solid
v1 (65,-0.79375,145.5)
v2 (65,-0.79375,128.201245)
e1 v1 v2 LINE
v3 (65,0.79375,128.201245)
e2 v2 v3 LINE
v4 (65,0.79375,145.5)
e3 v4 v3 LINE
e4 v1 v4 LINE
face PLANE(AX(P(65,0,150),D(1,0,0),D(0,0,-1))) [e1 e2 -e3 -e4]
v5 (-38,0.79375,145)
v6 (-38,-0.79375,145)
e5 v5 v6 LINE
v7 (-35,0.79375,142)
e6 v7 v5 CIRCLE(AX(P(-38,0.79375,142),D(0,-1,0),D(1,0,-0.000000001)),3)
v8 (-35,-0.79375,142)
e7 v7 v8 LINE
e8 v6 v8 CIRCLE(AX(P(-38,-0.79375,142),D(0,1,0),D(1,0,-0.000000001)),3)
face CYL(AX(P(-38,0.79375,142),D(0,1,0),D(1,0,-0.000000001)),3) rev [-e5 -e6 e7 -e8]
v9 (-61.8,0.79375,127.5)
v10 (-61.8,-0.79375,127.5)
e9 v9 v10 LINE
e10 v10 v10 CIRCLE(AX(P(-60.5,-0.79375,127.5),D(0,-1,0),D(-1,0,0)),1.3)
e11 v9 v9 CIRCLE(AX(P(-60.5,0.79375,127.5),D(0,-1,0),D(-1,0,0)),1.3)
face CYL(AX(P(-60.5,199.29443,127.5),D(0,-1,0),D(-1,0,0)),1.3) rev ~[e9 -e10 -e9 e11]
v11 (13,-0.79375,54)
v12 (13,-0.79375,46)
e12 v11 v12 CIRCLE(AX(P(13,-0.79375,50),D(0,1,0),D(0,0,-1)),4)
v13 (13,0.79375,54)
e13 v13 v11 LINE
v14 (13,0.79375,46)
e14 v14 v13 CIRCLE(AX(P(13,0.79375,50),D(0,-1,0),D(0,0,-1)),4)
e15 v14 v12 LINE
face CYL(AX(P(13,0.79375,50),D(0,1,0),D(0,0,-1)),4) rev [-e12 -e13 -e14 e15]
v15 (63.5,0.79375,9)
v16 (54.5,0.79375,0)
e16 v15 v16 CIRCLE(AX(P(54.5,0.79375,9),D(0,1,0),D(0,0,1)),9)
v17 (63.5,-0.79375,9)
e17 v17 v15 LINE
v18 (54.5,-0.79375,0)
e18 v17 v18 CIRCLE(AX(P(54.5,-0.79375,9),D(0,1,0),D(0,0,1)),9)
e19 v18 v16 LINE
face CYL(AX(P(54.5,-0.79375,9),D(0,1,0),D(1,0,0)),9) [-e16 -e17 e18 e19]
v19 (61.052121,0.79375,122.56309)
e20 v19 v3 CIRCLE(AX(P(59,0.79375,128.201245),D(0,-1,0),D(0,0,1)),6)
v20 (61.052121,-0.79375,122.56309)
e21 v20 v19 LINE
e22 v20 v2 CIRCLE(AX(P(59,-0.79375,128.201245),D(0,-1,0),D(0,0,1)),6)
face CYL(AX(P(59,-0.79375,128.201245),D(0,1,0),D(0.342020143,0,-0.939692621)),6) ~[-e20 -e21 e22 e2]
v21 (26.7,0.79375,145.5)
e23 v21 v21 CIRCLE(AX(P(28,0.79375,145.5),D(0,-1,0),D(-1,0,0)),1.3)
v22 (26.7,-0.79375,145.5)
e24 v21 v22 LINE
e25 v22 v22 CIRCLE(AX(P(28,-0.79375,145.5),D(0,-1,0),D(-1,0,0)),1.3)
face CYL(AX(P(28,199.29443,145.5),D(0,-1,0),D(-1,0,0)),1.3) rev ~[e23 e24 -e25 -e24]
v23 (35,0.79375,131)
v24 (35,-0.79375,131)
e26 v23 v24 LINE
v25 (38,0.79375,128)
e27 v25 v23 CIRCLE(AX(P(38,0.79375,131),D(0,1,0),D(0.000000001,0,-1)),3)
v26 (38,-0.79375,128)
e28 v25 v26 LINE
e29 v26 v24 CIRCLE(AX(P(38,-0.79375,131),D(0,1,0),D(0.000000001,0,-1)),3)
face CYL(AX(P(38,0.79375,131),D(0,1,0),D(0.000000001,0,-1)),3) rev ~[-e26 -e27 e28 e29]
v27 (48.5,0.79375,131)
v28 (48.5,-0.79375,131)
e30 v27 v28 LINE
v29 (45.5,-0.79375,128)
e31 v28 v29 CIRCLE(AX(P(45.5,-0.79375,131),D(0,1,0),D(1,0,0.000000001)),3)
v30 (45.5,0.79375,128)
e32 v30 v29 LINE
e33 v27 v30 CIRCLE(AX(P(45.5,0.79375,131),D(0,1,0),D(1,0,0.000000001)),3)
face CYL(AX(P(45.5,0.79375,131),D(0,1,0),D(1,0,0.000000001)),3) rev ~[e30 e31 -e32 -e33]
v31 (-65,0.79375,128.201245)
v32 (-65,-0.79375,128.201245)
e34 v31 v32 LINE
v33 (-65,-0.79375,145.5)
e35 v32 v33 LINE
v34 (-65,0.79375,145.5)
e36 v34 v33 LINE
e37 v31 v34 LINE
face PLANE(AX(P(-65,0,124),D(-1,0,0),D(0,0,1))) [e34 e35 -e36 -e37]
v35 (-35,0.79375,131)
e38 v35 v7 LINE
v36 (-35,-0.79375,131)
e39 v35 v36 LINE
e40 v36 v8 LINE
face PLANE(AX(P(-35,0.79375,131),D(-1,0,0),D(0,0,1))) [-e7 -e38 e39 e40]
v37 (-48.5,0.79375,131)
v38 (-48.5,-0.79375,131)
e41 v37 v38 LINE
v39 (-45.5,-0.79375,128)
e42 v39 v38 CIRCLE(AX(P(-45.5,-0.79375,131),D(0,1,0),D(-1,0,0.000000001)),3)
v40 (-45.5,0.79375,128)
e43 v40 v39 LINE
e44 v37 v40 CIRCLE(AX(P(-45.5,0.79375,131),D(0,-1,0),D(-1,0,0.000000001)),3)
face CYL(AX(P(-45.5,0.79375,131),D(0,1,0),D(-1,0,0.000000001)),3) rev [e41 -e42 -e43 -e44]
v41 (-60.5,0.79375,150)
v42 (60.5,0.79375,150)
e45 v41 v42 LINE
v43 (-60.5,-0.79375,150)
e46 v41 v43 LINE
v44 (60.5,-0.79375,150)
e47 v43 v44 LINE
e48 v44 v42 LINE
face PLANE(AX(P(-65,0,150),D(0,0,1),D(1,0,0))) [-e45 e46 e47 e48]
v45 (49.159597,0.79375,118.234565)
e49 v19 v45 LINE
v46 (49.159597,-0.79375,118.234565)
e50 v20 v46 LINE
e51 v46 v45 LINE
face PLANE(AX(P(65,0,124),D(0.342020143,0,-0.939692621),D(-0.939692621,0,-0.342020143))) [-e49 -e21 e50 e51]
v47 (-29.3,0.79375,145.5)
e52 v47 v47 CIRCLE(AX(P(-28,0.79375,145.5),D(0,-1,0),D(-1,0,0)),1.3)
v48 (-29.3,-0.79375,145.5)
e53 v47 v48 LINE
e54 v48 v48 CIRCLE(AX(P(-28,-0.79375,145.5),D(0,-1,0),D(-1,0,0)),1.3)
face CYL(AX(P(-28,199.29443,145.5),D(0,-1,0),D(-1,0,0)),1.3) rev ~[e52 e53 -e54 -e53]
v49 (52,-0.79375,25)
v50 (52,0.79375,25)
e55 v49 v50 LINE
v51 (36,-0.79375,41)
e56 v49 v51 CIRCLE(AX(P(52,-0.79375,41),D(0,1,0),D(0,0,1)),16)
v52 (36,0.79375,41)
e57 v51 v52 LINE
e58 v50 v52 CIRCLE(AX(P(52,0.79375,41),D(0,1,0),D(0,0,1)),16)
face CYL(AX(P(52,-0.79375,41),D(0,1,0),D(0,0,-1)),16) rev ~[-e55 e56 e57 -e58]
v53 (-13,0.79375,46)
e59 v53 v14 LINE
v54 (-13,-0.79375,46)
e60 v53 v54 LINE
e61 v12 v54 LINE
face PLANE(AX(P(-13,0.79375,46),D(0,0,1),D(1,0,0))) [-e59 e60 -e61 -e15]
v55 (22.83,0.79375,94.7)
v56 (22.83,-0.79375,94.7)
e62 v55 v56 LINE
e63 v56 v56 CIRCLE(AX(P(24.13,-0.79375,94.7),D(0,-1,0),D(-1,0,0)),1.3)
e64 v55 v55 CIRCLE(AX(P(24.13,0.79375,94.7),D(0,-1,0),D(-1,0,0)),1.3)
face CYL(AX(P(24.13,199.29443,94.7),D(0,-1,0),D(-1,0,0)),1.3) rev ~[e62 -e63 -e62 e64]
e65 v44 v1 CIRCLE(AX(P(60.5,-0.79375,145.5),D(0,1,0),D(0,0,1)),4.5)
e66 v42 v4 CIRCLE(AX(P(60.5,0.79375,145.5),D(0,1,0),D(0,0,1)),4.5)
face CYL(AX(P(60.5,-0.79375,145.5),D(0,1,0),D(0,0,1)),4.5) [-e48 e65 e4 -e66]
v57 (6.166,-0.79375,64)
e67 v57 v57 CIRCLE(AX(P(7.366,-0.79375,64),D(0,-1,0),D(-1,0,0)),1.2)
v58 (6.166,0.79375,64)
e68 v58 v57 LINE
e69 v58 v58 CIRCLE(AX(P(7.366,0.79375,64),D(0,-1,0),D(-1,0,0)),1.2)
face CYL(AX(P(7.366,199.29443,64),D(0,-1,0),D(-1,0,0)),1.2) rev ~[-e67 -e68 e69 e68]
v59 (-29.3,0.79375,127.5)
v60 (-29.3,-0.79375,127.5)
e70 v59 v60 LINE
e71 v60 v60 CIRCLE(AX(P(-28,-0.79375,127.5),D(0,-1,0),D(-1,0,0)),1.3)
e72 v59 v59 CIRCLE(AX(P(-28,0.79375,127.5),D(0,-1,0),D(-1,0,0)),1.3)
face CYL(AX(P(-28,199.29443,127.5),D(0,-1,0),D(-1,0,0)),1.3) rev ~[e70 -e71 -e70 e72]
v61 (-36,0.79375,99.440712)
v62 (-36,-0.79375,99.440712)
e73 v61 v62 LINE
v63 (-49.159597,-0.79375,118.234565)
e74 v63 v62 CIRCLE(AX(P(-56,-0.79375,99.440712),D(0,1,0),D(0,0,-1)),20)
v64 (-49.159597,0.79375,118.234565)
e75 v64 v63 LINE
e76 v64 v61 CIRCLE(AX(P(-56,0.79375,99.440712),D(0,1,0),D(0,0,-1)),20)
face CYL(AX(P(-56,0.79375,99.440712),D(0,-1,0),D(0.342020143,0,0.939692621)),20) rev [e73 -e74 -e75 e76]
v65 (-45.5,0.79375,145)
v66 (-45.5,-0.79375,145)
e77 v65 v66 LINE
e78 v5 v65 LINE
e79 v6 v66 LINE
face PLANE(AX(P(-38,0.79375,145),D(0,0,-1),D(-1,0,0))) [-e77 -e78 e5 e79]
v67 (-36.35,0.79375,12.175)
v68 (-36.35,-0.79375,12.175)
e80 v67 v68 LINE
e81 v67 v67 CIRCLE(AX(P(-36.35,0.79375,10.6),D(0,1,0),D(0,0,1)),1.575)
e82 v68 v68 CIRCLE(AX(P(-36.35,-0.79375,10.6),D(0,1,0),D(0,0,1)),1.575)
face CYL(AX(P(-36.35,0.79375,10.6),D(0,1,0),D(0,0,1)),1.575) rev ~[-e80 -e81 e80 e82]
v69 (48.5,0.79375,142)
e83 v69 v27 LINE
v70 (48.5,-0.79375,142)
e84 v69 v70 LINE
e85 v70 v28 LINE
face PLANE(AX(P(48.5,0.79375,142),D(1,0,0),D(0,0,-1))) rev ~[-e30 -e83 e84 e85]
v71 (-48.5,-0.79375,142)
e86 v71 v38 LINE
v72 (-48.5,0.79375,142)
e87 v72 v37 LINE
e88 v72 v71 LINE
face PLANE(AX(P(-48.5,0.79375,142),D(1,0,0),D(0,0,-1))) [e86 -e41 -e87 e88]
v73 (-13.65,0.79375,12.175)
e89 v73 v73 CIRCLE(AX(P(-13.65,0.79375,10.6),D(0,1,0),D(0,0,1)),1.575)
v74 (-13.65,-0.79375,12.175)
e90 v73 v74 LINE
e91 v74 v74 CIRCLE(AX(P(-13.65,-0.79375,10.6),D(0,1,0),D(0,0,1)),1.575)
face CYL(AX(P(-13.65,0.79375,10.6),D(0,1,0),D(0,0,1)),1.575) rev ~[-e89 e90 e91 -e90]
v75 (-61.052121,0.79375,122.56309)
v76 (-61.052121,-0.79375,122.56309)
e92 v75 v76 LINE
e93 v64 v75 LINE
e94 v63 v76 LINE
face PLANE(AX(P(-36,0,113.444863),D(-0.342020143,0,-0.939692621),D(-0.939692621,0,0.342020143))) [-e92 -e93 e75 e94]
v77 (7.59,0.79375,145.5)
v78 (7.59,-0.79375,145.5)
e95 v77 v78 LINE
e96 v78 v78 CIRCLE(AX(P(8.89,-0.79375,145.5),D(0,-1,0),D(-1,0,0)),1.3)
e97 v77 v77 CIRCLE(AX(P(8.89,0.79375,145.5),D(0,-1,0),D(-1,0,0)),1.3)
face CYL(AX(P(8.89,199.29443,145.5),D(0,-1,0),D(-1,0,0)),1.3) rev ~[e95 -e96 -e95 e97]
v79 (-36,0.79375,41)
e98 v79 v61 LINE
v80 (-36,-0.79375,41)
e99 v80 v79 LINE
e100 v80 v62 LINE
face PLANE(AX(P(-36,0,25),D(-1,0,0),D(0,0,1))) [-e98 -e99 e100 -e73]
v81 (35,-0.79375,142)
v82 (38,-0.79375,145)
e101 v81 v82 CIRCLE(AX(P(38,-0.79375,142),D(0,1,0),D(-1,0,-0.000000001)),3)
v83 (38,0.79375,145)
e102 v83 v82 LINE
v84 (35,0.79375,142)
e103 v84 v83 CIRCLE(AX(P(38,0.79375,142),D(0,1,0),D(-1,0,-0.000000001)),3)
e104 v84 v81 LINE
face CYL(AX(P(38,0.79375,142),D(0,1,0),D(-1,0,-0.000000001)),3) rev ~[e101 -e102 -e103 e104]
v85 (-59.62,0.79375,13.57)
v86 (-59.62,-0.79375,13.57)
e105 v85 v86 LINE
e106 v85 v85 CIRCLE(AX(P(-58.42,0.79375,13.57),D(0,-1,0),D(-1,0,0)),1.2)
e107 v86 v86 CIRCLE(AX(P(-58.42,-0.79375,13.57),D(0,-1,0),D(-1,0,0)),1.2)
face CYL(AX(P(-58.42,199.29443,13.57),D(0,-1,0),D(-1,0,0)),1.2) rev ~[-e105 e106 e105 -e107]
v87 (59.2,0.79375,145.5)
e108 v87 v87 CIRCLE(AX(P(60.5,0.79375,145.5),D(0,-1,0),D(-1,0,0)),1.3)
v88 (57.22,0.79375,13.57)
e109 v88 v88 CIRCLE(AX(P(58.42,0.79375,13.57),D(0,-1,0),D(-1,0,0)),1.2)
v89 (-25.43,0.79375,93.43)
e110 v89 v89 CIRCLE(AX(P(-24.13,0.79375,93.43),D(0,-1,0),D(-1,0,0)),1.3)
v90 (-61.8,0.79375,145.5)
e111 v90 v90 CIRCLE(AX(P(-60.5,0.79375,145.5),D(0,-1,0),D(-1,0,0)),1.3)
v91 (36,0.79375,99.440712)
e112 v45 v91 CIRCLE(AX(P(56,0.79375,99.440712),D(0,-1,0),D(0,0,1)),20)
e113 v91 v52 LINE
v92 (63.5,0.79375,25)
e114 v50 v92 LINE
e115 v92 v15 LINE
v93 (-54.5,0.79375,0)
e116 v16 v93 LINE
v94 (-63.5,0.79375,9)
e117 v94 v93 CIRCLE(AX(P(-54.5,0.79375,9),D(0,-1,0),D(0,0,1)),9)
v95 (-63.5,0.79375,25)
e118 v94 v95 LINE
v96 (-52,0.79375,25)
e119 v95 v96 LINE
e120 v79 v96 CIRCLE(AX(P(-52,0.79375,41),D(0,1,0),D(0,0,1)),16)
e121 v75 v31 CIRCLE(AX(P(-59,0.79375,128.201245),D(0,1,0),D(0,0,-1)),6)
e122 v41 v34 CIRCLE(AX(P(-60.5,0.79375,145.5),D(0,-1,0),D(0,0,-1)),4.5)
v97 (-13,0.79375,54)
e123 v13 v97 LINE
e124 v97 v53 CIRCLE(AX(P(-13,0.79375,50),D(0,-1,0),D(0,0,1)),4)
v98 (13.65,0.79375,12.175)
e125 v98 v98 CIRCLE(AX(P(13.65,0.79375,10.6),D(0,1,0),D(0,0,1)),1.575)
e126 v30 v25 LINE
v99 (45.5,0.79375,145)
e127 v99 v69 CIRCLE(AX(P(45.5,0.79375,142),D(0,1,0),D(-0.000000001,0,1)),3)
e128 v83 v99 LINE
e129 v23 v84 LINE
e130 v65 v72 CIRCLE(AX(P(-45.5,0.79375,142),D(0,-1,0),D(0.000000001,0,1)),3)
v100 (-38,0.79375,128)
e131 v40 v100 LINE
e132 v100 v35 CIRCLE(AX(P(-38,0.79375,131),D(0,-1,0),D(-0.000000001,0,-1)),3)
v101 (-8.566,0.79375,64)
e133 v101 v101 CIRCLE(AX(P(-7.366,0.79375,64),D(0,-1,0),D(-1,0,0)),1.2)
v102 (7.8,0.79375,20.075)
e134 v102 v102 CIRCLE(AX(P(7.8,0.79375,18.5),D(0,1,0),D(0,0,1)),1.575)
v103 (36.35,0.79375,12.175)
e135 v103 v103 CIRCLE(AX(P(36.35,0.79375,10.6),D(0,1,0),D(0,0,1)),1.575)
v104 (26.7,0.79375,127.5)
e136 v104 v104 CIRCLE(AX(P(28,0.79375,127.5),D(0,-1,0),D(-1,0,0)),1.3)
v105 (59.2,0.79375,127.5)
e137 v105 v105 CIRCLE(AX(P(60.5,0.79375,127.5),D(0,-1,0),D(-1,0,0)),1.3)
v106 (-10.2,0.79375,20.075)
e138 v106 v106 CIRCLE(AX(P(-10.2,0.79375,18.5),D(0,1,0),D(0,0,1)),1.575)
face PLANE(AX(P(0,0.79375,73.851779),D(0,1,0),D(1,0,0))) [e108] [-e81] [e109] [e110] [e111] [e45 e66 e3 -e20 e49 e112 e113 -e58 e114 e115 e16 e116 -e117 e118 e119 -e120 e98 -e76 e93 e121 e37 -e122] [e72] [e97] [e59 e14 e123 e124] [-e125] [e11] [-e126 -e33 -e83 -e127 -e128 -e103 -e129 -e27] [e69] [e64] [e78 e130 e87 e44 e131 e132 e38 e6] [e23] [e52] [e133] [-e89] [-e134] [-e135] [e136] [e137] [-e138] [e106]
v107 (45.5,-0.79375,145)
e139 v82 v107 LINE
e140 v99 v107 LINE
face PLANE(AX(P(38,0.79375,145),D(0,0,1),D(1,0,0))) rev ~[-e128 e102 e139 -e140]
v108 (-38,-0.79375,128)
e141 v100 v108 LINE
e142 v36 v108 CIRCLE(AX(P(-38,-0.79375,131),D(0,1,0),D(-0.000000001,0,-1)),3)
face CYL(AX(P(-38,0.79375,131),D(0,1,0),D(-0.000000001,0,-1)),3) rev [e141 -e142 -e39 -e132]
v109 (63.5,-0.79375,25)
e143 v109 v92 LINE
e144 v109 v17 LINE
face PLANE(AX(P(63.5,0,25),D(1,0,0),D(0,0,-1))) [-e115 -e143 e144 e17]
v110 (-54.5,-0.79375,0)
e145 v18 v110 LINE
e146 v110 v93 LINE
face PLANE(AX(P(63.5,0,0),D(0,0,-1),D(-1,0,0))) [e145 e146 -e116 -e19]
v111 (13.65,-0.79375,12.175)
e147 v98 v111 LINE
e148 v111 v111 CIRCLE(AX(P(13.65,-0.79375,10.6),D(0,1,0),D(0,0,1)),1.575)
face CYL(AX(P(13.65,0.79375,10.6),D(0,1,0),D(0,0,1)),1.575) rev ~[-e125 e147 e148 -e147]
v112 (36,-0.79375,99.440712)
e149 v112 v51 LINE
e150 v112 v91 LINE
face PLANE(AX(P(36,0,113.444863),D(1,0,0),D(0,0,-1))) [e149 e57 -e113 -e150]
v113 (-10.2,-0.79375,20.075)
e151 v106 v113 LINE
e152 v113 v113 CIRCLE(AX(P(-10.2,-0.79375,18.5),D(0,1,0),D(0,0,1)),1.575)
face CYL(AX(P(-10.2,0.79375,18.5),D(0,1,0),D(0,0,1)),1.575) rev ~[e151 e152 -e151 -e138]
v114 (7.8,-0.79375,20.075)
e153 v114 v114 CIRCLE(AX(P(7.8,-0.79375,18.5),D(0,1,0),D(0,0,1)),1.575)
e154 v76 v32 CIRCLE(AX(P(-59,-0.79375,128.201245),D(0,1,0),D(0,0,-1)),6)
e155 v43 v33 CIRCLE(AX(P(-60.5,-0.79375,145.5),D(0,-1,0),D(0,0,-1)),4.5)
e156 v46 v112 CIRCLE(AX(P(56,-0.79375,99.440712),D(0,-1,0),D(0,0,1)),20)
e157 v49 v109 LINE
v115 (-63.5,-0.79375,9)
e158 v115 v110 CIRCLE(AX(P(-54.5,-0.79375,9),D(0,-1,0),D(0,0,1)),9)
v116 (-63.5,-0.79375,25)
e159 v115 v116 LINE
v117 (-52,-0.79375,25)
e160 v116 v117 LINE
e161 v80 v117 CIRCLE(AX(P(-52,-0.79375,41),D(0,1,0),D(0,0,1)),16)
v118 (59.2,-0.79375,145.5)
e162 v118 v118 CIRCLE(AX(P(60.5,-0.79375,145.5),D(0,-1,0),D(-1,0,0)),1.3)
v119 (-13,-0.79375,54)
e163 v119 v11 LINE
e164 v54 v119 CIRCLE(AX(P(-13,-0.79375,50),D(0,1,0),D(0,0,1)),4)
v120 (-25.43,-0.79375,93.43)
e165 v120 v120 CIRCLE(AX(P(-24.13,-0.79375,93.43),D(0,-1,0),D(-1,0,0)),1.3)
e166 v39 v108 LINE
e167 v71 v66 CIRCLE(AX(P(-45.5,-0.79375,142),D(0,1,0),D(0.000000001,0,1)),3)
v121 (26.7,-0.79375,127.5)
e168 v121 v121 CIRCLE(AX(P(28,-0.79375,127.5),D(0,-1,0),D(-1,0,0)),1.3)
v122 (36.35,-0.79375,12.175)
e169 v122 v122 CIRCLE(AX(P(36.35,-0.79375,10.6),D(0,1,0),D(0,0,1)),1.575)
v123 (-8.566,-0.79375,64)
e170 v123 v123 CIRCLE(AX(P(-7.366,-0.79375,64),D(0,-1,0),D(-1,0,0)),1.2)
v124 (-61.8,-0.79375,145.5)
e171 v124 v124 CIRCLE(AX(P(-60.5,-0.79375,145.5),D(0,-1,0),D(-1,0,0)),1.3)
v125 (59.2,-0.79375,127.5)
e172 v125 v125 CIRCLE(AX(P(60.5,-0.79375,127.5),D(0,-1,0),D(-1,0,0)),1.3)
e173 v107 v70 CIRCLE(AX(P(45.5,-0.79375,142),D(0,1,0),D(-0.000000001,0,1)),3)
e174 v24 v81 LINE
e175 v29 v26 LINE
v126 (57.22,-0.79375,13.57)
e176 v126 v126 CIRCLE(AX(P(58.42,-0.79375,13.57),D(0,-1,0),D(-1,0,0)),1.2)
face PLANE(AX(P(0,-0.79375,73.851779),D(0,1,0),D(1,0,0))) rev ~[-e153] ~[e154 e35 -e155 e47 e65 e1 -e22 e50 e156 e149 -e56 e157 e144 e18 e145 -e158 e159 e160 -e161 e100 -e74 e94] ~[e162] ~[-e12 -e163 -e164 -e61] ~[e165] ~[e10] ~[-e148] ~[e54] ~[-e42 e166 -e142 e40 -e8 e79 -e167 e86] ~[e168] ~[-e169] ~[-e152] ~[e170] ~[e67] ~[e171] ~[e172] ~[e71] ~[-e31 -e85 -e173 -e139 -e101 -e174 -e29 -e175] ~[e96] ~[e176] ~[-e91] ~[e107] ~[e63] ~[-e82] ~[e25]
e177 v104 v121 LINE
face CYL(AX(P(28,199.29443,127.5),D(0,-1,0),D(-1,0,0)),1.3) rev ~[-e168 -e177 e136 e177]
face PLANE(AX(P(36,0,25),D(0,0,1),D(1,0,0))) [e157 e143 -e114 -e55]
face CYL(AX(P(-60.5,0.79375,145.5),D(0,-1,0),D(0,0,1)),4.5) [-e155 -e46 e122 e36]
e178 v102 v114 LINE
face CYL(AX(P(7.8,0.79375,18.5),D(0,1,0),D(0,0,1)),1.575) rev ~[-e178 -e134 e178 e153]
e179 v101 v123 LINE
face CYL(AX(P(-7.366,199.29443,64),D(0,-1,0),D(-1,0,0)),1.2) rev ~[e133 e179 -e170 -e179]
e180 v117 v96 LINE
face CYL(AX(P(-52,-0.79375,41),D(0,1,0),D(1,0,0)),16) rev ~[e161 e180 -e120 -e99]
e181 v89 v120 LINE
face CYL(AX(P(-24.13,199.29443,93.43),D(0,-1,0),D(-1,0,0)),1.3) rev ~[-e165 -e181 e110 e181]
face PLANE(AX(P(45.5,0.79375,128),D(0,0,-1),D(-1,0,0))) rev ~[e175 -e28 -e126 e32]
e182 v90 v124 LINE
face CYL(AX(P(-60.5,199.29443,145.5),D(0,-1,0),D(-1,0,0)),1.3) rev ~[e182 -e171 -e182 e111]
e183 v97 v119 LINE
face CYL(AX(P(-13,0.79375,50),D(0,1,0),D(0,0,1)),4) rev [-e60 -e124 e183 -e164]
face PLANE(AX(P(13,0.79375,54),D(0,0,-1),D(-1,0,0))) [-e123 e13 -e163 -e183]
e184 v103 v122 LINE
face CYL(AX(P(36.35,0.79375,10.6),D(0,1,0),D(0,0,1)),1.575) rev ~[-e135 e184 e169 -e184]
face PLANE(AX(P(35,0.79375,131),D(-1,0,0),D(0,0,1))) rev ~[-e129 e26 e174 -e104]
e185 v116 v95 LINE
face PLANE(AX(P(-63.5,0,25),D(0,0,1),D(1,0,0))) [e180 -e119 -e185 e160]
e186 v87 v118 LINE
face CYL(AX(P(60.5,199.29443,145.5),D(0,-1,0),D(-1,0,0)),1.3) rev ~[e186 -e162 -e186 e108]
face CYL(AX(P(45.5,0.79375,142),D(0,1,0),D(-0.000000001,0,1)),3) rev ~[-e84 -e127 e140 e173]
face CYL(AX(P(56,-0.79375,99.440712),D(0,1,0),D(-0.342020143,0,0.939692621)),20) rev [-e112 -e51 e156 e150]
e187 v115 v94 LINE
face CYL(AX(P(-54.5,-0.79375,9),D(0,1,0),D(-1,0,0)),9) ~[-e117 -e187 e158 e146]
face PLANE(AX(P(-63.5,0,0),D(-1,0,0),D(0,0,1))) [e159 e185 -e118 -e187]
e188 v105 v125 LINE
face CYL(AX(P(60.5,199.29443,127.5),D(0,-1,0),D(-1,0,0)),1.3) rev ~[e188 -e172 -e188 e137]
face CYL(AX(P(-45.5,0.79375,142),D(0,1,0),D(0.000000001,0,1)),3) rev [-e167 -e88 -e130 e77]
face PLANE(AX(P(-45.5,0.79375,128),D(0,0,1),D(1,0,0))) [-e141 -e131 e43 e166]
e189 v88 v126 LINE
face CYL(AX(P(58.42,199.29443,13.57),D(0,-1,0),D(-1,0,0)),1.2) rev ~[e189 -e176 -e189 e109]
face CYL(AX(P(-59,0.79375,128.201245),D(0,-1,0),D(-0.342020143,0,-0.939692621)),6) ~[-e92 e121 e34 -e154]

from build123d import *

# Parameters (mm, degrees)
BOSS_EXTRUDE1_DEPTH  = 0.79375
M2_CLEARANCE_HOLE1_D = 2.6
FILLET1_R            = 4.5
M2_CLEARANCE_HOLE3_D = 2.6
FILLET2_R            = 9
M2_CLEARANCE_HOLE2_D = 2.4
FILLET3_R            = 6
FILLET4_R            = 20
FILLET5_R            = 16
CUT_EXTRUDE2_REACH   = 165.486
CUT_EXTRUDE4_DEPTH   = 164.485535006
M2_CLEARANCE_HOLE4_D = 2.4
SKETCH17_R           = 1.575
CUT_EXTRUDE6_DEPTH   = 164.485535006


with BuildPart() as part:
    # Sketch1 → Boss-Extrude1 (new, symmetric)
    with BuildSketch(Plane(origin=(0, 0, 0), x_dir=(1, 0, 0), z_dir=(0, 1, 0))):
        Polygon((-65, -150), (65, -150), (65, -124), (36, -113.444863206), (36, -25), (63.5, -25), (63.5, 0), (-63.5, 0), (-63.5, -25), (-36, -25), (-36, -113.444863206), (-65, -124), align=None)
    extrude(amount=BOSS_EXTRUDE1_DEPTH, both=True)

    # M2 Clearance Hole1 (through all)
    with Locations(Plane(origin=(0, 0.79375, 0), x_dir=(1, 0, 0), z_dir=(0, 1, 0))):
        with Locations((-60.5, -145.5), (60.5, -145.5), (-60.5, -127.5), (60.5, -127.5), (-28, -127.5), (-28, -145.5), (28, -127.5), (28, -145.5)):
            Hole(M2_CLEARANCE_HOLE1_D / 2)

    # Fillet1
    fillet1_edges = [part.edges().sort_by_distance(p)[0] for p in [
        (65, 0, 150),
        (-65, 0, 150),
    ]]
    fillet(fillet1_edges, radius=FILLET1_R)

    # M2 Clearance Hole3 (through all)
    with Locations(Plane(origin=(0, 0.79375, 0), x_dir=(1, 0, 0), z_dir=(0, 1, 0))):
        with Locations((24.13, -94.7), (8.89, -145.5), (-24.13, -93.43)):
            Hole(M2_CLEARANCE_HOLE3_D / 2)

    # Fillet2
    fillet2_edges = [part.edges().sort_by_distance(p)[0] for p in [
        (-63.5, 0, 0),
        (63.5, 0, 0),
    ]]
    fillet(fillet2_edges, radius=FILLET2_R)

    # M2 Clearance Hole2 (through all)
    with Locations(Plane(origin=(0, 0.79375, 0), x_dir=(1, 0, 0), z_dir=(0, 1, 0))):
        with Locations((-58.42, -13.57), (58.42, -13.57)):
            Hole(M2_CLEARANCE_HOLE2_D / 2)

    # Fillet3
    fillet3_edges = [part.edges().sort_by_distance(p)[0] for p in [
        (-65, 0, 124),
        (65, 0, 124),
    ]]
    fillet(fillet3_edges, radius=FILLET3_R)

    # Fillet4
    fillet4_edges = [part.edges().sort_by_distance(p)[0] for p in [
        (-36, 0, 113.444863206),
        (36, 0, 113.444863206),
    ]]
    fillet(fillet4_edges, radius=FILLET4_R)

    # Fillet5
    fillet5_edges = [part.edges().sort_by_distance(p)[0] for p in [
        (-36, 0, 25),
        (36, 0, 25),
    ]]
    fillet(fillet5_edges, radius=FILLET5_R)

    # Sketch9 → Cut-Extrude2 (cut, up to next)
    with BuildSketch(Plane(origin=(0, 0.79375, 0), x_dir=(1, 0, 0), z_dir=(0, 1, 0)), mode=Mode.PRIVATE) as cut_extrude2_sk1:
        with BuildLine():
            Line((-13, -46), (13, -46))
            ThreePointArc((13, -46), (17, -50), (13, -54))
            Line((13, -54), (-13, -54))
            ThreePointArc((-13, -54), (-17, -50), (-13, -46))
        make_face()
    cut_extrude2_tool1 = extrude(cut_extrude2_sk1.sketch, amount=-CUT_EXTRUDE2_REACH, mode=Mode.PRIVATE) & part.part
    add(cut_extrude2_tool1.solids().sort_by_distance((0, 0.79375, 50))[0], mode=Mode.SUBTRACT)

    # Sketch13 → Cut-Extrude4 (cut, through all)
    with BuildSketch(Plane(origin=(0, 0.79375, 0), x_dir=(1, 0, 0), z_dir=(0, 1, 0))):
        with BuildLine():
            Line((-35, -131), (-35, -142))
            ThreePointArc((-35, -142), (-35.878679656, -144.121320344), (-38, -145))
            Line((-38, -145), (-45.5, -145))
            ThreePointArc((-45.5, -145), (-47.621320344, -144.121320344), (-48.5, -142))
            Line((-48.5, -142), (-48.5, -131))
            ThreePointArc((-48.5, -131), (-47.621320344, -128.878679656), (-45.5, -128))
            Line((-45.5, -128), (-38, -128))
            ThreePointArc((-38, -128), (-35.878679656, -128.878679656), (-35, -131))
        make_face()
        with BuildLine():
            Line((35, -131), (35, -142))
            ThreePointArc((35, -142), (35.878679656, -144.121320344), (38, -145))
            Line((38, -145), (45.5, -145))
            ThreePointArc((45.5, -145), (47.621320344, -144.121320344), (48.5, -142))
            Line((48.5, -142), (48.5, -131))
            ThreePointArc((48.5, -131), (47.621320344, -128.878679656), (45.5, -128))
            Line((45.5, -128), (38, -128))
            ThreePointArc((38, -128), (35.878679656, -128.878679656), (35, -131))
        make_face()
    extrude(amount=-CUT_EXTRUDE4_DEPTH, mode=Mode.SUBTRACT)

    # M2 Clearance Hole4 (through all)
    with Locations(Plane(origin=(0, 0.79375, 0), x_dir=(1, 0, 0), z_dir=(0, 1, 0))):
        with Locations((-7.366, -64), (7.366, -64)):
            Hole(M2_CLEARANCE_HOLE4_D / 2)

    # Sketch17 → Cut-Extrude6 (cut, through all)
    with BuildSketch(Plane(origin=(0, 0.79375, 0), x_dir=(1, 0, 0), z_dir=(0, 1, 0))):
        with Locations(Location((7.8, -18.5, 0), (0, 0, 270))):
            Circle(SKETCH17_R)
        with Locations(Location((-10.2, -18.5, 0), (0, 0, 270))):
            Circle(SKETCH17_R)
        with Locations(Location((36.35, -10.6, 0), (0, 0, 270))):
            Circle(SKETCH17_R)
        with Locations(Location((13.65, -10.6, 0), (0, 0, 270))):
            Circle(SKETCH17_R)
        with Locations(Location((-13.65, -10.6, 0), (0, 0, 270))):
            Circle(SKETCH17_R)
        with Locations(Location((-36.35, -10.6, 0), (0, 0, 270))):
            Circle(SKETCH17_R)
    extrude(amount=-CUT_EXTRUDE6_DEPTH, mode=Mode.SUBTRACT)


solid = part.part
